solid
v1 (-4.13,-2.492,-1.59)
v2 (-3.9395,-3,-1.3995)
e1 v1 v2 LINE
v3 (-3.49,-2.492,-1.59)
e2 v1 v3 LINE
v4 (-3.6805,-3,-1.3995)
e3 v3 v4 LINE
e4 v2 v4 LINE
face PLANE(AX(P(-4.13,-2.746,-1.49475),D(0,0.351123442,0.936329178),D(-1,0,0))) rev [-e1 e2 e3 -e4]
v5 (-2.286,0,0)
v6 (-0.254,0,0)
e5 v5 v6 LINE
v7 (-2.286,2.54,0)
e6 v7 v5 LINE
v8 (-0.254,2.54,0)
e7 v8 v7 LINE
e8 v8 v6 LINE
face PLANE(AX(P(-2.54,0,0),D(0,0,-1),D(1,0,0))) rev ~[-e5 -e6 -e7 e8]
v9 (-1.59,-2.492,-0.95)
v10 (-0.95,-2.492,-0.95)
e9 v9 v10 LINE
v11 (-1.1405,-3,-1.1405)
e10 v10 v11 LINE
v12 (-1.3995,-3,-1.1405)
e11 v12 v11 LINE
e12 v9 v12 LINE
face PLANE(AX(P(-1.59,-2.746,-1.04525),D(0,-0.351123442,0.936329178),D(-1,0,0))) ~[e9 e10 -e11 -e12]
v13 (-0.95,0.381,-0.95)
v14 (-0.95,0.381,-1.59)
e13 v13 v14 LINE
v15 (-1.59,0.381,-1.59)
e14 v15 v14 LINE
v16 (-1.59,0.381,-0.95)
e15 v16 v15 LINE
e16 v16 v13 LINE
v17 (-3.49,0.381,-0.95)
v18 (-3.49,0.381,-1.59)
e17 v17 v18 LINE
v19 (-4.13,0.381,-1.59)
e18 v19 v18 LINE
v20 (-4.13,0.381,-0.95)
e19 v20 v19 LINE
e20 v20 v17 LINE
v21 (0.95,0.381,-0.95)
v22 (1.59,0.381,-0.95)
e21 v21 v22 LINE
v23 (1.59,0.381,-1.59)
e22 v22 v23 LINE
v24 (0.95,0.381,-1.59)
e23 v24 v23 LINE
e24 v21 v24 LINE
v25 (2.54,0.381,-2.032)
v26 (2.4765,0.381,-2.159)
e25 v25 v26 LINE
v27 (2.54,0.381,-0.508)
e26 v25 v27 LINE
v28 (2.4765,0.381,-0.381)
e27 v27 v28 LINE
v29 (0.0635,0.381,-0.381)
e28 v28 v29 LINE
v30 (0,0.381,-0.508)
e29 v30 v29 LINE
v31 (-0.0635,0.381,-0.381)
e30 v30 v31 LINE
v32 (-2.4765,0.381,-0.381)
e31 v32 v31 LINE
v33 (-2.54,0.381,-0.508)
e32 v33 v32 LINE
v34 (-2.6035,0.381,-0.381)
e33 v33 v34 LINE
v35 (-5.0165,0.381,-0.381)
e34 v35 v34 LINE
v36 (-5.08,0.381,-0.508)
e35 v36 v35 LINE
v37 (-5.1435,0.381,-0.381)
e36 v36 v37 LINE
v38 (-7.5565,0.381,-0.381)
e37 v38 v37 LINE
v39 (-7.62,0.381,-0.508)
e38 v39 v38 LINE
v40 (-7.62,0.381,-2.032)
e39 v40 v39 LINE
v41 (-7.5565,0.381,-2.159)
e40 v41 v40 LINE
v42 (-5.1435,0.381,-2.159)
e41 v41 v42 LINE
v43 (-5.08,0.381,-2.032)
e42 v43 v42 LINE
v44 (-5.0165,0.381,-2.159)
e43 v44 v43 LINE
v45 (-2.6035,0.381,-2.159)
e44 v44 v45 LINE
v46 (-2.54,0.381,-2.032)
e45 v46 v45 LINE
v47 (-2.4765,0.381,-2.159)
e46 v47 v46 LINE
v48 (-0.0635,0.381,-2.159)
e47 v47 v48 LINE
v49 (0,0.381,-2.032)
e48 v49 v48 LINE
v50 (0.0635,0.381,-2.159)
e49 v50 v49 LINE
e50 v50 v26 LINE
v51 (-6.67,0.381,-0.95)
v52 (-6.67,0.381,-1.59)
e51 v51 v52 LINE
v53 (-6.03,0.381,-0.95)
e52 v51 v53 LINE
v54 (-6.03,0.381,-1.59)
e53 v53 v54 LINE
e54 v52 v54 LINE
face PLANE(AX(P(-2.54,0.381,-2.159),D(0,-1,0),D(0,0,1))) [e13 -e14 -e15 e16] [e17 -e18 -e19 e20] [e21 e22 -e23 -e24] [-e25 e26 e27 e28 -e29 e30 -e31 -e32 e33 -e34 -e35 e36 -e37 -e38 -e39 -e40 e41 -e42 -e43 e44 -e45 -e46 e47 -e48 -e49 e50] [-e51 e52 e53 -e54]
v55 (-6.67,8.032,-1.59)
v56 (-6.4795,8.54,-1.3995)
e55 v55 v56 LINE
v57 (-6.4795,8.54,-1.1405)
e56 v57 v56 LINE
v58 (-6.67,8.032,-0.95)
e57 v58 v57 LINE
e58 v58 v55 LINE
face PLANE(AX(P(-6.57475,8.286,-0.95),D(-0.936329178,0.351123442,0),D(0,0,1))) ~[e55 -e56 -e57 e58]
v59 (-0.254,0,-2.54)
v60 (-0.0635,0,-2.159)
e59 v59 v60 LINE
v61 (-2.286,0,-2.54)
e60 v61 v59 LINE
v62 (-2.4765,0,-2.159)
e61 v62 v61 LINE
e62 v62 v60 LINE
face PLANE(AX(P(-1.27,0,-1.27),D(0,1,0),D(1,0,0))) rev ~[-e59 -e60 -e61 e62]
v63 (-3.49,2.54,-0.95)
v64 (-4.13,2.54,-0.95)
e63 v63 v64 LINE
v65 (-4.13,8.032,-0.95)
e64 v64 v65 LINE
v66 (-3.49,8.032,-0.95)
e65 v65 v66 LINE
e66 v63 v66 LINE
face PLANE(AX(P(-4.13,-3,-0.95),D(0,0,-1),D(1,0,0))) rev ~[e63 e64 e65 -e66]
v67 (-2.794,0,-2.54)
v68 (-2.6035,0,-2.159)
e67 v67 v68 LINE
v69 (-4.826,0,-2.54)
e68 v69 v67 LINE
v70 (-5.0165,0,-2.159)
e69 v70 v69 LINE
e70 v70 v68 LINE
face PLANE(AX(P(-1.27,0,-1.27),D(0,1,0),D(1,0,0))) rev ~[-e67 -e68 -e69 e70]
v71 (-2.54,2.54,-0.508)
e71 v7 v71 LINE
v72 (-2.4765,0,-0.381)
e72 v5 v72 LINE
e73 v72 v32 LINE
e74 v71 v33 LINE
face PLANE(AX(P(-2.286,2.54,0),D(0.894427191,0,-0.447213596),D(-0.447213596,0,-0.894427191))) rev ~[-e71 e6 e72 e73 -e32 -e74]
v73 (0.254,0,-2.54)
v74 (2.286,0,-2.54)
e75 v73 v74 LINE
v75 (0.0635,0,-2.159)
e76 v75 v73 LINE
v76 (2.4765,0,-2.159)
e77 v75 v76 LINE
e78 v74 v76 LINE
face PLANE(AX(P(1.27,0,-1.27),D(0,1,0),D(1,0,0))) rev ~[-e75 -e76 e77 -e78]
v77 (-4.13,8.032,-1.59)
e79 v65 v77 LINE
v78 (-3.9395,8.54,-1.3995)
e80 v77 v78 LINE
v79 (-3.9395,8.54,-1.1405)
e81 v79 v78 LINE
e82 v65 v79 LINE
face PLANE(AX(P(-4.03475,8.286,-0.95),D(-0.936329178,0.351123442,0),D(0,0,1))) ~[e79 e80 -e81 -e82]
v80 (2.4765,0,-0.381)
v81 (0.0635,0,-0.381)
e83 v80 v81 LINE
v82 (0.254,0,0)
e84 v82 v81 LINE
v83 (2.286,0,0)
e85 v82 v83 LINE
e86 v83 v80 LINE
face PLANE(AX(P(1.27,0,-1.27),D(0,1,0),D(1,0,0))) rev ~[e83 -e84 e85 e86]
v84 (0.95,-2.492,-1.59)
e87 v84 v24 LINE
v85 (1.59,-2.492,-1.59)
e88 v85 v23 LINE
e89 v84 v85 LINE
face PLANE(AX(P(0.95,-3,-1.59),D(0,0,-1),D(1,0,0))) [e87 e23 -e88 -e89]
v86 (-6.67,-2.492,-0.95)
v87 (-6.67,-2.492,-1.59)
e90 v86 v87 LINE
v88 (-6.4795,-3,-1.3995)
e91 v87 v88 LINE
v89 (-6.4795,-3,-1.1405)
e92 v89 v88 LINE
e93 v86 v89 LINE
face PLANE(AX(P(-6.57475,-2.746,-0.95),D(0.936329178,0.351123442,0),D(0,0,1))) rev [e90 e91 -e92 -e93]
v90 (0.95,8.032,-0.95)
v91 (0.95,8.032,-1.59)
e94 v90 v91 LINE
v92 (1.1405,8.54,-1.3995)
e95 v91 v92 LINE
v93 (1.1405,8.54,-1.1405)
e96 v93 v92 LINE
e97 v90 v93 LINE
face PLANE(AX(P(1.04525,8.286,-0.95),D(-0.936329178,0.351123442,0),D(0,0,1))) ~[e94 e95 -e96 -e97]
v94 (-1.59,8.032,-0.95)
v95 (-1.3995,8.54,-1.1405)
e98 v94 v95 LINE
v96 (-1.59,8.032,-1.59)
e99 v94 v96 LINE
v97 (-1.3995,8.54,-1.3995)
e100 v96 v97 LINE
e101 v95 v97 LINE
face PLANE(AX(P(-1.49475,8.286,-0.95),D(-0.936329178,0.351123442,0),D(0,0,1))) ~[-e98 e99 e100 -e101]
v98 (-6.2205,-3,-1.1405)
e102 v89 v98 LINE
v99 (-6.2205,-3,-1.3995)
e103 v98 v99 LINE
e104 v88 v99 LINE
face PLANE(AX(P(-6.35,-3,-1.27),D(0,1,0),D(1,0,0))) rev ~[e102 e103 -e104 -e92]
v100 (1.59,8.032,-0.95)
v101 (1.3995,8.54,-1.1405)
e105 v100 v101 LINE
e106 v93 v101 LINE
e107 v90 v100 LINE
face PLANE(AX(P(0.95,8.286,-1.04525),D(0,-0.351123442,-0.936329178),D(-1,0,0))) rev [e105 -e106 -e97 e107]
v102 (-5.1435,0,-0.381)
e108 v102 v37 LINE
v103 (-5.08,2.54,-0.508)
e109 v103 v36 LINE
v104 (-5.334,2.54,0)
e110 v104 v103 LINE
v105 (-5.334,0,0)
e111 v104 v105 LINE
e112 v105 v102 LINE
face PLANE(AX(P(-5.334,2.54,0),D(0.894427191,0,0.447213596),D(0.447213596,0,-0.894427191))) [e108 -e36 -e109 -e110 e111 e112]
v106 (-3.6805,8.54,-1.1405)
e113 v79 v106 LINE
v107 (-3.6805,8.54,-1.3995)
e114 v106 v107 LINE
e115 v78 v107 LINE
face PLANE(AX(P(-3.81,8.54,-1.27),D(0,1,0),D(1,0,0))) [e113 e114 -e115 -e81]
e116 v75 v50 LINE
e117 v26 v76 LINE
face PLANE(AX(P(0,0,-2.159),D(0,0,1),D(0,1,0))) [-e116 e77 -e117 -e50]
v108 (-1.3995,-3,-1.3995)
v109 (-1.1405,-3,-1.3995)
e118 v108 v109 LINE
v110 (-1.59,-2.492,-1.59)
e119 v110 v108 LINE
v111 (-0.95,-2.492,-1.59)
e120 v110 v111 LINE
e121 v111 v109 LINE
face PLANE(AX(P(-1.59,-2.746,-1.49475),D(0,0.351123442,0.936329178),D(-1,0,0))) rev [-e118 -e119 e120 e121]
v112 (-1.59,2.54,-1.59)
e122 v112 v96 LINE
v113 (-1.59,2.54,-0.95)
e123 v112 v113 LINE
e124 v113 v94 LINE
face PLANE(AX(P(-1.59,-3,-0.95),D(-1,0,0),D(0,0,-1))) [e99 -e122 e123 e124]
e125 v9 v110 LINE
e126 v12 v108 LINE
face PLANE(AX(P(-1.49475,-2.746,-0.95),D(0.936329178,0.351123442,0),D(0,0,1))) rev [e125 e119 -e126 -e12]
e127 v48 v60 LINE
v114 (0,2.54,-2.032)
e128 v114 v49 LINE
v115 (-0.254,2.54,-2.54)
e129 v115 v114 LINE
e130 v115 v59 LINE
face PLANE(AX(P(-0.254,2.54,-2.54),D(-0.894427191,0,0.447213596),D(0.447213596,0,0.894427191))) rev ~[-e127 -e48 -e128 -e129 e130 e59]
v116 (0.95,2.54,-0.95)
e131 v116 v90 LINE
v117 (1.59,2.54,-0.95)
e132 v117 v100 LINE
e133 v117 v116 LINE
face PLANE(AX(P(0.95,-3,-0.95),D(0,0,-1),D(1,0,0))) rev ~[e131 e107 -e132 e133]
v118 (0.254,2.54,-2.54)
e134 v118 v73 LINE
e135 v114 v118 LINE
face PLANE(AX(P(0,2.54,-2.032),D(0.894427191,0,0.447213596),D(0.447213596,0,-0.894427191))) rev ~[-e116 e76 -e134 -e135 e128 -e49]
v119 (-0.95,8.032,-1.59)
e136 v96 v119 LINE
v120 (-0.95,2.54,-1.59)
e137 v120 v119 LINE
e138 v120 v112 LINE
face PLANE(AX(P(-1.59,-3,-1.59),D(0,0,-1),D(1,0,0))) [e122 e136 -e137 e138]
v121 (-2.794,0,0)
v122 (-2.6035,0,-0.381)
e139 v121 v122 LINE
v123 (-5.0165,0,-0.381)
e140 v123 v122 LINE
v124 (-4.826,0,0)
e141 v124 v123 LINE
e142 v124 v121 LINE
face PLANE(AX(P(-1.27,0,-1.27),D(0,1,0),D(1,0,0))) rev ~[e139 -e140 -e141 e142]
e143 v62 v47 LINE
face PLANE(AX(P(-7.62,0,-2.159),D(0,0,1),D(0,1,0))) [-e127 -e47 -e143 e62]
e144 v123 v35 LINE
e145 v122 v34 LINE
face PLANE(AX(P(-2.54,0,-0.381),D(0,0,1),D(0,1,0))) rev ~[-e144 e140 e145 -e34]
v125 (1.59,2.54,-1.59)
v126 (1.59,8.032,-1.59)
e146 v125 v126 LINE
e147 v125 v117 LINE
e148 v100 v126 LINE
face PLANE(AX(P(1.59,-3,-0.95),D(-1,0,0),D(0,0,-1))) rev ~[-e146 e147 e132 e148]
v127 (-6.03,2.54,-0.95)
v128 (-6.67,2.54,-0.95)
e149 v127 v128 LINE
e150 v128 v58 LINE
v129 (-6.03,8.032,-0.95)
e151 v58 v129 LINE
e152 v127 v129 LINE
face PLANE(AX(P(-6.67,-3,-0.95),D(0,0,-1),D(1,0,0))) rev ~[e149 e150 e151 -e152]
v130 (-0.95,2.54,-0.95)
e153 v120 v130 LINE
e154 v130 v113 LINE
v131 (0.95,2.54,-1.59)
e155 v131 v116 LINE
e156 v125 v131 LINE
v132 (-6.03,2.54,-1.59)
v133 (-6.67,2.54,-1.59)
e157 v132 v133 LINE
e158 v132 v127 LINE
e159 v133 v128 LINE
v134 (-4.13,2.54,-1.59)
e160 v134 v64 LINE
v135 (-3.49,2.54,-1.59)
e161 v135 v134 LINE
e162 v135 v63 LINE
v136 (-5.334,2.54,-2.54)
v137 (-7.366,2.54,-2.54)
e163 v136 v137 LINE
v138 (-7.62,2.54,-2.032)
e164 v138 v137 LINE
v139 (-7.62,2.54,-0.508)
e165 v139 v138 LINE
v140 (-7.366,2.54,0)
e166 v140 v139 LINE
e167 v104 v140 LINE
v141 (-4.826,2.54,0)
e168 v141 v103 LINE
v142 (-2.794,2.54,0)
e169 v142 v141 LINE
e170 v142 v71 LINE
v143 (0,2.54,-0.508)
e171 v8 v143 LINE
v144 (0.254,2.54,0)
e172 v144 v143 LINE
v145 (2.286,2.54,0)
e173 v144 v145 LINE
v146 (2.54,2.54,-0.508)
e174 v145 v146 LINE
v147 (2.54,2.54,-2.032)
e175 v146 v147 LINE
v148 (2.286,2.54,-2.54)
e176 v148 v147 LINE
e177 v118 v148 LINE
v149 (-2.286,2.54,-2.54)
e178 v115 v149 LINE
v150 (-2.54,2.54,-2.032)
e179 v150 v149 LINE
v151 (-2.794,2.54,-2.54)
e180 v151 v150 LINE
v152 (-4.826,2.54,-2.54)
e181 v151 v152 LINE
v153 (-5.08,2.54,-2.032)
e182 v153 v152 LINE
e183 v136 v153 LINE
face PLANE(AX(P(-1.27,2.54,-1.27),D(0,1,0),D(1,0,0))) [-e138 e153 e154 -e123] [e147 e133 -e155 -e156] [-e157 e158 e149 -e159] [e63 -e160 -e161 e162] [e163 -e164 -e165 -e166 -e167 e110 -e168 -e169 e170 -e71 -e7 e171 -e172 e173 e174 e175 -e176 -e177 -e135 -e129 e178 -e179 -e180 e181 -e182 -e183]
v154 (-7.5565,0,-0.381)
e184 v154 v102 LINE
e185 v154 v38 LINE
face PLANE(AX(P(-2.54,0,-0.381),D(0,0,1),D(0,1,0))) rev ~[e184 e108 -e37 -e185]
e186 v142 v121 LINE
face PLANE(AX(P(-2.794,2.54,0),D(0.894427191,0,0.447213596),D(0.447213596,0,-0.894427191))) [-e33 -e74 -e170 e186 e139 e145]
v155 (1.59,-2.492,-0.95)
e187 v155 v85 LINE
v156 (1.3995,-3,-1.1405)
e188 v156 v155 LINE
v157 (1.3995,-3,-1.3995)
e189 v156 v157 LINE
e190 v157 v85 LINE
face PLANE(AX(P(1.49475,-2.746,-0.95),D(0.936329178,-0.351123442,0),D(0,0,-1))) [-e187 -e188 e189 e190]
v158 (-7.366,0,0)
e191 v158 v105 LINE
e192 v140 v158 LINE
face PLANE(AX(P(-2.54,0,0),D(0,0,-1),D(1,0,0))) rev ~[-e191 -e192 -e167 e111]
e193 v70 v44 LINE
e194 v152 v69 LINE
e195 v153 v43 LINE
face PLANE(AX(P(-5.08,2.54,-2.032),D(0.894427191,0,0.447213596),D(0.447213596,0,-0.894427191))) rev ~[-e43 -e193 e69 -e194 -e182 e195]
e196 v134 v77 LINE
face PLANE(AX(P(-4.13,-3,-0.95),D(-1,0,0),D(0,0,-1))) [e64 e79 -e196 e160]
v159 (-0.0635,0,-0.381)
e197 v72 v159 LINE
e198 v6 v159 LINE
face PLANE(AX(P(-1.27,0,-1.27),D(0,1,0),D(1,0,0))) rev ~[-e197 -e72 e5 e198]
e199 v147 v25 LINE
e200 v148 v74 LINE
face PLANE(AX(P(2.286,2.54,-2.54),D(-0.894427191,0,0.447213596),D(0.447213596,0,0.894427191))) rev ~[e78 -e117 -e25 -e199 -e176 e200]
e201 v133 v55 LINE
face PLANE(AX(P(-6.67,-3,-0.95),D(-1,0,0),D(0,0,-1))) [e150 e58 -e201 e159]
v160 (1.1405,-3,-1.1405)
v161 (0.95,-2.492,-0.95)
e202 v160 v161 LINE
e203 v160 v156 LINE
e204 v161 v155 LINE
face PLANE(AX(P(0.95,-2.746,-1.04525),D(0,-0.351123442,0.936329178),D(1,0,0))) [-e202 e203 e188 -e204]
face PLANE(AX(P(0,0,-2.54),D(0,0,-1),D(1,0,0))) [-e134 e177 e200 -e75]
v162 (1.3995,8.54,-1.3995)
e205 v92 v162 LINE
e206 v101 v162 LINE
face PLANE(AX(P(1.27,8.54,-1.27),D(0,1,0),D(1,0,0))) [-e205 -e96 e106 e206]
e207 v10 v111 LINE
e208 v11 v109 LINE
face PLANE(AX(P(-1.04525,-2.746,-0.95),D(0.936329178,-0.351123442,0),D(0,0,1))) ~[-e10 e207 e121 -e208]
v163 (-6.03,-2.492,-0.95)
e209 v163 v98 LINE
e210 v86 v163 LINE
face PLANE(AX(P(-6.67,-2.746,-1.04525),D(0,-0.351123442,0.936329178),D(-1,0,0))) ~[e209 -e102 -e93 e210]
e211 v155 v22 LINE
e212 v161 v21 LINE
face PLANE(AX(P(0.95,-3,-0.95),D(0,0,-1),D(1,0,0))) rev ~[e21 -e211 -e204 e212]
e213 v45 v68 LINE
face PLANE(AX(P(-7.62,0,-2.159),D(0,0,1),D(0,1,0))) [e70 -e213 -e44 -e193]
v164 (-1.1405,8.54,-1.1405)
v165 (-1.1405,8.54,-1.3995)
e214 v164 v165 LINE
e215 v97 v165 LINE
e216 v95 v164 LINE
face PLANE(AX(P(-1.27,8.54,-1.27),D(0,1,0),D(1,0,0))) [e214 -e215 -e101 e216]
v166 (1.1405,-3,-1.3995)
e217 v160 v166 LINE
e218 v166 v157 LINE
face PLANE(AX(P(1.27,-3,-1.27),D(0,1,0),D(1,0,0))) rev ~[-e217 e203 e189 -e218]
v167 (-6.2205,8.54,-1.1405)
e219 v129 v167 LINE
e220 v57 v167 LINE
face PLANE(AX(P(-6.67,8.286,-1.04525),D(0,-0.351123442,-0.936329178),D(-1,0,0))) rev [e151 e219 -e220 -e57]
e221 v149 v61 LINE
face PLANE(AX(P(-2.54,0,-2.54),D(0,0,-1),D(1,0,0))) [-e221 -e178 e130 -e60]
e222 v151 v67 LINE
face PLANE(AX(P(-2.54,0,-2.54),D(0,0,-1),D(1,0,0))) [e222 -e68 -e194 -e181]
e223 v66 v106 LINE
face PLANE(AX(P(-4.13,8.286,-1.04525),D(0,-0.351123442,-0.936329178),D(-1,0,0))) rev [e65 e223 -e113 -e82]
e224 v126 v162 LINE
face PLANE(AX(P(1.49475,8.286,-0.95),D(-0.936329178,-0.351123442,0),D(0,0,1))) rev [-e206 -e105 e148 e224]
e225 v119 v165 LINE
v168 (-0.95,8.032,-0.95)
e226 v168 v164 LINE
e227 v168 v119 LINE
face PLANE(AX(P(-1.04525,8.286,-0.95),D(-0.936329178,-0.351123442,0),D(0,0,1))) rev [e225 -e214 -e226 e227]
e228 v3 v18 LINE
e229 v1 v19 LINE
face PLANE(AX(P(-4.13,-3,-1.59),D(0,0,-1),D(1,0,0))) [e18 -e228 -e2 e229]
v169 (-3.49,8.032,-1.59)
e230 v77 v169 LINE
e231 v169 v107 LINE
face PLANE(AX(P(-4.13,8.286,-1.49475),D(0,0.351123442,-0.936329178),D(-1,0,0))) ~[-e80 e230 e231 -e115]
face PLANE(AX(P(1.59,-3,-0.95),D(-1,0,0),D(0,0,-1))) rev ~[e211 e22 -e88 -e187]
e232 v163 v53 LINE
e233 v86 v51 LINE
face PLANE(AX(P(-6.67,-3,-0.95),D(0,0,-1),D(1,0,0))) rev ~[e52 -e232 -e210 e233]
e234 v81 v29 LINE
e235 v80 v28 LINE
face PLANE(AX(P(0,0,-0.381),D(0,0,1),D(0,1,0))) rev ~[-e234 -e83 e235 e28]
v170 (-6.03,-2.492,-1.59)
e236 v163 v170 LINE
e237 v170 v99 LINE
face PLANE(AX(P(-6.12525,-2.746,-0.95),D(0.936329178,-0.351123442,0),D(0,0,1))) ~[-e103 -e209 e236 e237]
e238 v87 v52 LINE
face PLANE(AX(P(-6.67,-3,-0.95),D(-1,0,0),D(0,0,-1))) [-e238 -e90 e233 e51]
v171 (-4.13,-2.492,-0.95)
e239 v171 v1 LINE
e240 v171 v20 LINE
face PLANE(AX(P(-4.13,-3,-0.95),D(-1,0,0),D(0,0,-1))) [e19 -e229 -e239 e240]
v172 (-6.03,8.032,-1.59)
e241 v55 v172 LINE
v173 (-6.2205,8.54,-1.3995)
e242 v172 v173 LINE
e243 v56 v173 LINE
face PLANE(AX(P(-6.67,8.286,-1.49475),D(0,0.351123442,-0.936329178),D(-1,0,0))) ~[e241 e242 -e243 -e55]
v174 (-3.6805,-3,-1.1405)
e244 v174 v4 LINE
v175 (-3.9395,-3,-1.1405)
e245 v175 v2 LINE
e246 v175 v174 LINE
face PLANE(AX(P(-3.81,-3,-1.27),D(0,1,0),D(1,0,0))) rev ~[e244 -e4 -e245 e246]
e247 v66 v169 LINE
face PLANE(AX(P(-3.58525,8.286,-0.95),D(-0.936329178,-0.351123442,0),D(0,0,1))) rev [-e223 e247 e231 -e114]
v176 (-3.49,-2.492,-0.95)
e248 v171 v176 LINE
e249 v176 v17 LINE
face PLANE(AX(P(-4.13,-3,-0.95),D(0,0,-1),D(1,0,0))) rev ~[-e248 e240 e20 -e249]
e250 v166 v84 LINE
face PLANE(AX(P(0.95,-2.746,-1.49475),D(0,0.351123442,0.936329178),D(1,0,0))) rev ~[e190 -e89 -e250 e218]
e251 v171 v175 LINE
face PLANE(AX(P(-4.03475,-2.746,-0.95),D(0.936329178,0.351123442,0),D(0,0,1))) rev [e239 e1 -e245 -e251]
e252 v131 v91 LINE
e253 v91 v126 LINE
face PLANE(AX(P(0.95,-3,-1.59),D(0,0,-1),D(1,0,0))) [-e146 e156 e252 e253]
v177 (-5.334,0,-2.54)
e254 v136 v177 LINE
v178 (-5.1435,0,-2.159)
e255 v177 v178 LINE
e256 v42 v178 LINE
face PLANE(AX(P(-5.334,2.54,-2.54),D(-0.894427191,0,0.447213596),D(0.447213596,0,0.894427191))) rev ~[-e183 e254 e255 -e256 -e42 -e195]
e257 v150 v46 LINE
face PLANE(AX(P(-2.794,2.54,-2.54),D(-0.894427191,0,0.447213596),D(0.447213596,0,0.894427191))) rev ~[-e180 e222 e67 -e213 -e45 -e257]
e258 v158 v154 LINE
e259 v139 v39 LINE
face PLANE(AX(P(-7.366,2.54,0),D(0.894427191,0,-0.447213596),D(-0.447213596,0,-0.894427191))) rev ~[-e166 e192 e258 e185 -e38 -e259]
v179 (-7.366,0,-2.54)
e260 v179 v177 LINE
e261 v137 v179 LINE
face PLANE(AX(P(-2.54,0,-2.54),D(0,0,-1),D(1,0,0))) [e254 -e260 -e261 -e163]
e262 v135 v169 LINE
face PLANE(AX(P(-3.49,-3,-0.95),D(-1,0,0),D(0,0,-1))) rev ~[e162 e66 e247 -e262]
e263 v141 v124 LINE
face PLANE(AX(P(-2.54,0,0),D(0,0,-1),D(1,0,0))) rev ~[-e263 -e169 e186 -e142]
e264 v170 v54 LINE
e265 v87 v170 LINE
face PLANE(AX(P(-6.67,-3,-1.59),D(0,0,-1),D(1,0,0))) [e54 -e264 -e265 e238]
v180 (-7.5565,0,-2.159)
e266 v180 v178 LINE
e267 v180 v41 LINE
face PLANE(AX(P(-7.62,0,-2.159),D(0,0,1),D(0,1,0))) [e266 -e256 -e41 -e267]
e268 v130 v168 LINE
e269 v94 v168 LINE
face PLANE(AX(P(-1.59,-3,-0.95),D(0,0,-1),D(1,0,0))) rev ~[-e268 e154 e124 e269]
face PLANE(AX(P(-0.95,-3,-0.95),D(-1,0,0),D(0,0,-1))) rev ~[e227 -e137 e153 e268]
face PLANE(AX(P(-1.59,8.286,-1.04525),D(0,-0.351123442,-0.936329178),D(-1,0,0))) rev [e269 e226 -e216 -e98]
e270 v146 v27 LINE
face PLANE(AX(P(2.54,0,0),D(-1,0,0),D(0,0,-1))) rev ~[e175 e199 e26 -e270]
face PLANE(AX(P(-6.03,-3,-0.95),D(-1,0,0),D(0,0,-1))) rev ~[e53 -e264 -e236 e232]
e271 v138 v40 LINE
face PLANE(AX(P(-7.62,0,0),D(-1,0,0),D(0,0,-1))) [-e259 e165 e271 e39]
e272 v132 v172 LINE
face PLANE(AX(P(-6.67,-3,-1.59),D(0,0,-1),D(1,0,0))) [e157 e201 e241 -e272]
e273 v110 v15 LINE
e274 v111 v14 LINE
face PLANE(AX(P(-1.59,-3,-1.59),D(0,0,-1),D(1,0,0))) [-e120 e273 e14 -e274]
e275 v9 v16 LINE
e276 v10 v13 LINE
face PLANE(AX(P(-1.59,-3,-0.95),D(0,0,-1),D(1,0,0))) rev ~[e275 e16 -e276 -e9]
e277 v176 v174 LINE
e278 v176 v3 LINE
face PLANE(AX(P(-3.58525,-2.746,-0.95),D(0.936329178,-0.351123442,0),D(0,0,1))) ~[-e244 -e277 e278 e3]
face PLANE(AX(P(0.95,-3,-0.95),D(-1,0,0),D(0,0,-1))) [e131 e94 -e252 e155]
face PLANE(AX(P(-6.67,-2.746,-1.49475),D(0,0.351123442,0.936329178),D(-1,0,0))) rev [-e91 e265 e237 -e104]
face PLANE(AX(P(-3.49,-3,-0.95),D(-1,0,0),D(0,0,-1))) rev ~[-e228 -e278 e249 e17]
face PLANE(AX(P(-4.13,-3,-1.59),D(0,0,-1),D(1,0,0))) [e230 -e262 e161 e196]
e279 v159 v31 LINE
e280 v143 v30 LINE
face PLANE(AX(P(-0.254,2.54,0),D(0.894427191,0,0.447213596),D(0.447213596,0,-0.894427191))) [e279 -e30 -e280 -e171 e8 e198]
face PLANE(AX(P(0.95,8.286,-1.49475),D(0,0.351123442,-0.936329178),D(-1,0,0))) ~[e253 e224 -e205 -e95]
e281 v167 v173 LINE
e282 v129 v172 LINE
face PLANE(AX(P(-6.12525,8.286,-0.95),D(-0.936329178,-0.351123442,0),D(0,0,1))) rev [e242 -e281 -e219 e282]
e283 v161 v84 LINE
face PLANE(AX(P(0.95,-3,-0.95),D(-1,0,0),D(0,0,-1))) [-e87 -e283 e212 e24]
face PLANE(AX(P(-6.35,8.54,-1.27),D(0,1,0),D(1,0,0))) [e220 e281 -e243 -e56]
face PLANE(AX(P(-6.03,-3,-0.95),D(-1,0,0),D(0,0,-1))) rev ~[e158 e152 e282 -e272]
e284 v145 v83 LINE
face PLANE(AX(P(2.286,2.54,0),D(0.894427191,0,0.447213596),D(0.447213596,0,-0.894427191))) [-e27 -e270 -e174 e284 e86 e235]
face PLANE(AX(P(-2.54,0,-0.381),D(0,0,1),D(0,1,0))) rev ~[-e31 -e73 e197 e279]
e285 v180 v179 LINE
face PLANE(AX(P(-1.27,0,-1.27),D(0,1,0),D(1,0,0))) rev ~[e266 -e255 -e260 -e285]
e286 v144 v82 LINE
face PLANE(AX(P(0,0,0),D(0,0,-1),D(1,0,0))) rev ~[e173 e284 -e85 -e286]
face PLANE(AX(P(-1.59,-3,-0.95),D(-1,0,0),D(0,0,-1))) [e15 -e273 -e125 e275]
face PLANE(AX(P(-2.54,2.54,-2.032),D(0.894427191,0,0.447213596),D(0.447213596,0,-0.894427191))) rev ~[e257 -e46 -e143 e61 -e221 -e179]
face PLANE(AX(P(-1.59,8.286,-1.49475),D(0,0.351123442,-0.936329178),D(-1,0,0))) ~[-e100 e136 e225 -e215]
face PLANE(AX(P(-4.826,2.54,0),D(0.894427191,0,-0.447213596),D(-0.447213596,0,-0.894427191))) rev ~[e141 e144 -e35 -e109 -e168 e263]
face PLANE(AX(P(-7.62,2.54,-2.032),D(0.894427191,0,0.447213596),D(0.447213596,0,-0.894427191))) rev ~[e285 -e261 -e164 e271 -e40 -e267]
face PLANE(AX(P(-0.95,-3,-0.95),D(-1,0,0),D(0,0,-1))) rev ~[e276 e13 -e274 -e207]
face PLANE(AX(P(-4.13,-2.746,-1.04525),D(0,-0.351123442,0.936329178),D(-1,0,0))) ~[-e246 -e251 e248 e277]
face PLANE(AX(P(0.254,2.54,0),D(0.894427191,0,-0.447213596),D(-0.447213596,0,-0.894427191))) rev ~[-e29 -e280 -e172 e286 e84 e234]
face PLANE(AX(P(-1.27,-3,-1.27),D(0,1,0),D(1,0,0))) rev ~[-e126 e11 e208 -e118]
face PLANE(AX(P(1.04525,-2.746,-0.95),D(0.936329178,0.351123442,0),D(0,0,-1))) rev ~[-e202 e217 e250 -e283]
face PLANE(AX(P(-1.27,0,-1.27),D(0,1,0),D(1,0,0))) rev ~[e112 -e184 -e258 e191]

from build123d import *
from OCP.BRepFilletAPI import BRepFilletAPI_MakeChamfer

# Parameters (mm, degrees)
SKETCH1_W                     = 2.54
SKETCH1_H                     = 2.54
MAIN_BODY_DEPTH               = 2.54
SKETCH3_W                     = 1.778
SKETCH3_H                     = 0.381
CUT_EXTRUDE1_DEPTH            = 5.399409051
CUT_EXTRUDE2_DEPTH            = 5.399409051
BODY_PATTERN_COUNT            = 4
BODY_PATTERN_PITCH            = 2.54
PIN_START                     = -5.54
SKETCH2_W                     = 0.64
SKETCH2_H                     = 0.64
PIN_DEPTH                     = 11.54
CHAMFER1_SIZE                 = 0.508
CHAMFER1_SIZE2                = 0.1905
CHAMFER2_SIZE                 = 0.1905
CHAMFER2_SIZE2                = 0.508
PIN_PATTERN_COUNT             = 4
PIN_PATTERN_PITCH             = 2.54
CHAMFER1_OF_PIN_PATTERN_SIZE  = 0.508
CHAMFER1_OF_PIN_PATTERN_SIZE2 = 0.1905
CHAMFER2_OF_PIN_PATTERN_SIZE2 = 0.1905
CHAMFER2_OF_PIN_PATTERN_SIZE  = 0.508


with BuildPart() as part:
    # Sketch1 → Main Body (new body)
    with BuildSketch(Plane(origin=(0, 0, 0), x_dir=(1, 0, 0), z_dir=(0, 1, 0))):
        with Locations((1.27, 1.27)):
            Rectangle(SKETCH1_W, SKETCH1_H)
    main_body = extrude(amount=MAIN_BODY_DEPTH)

    # Sketch3 → Cut-Extrude1 (cut, through all)
    with BuildSketch(Plane.ZY):
        with Locations((-1.27, 0.1905)):
            Rectangle(SKETCH3_W, SKETCH3_H)
    cut_extrude1 = extrude(amount=-CUT_EXTRUDE1_DEPTH, mode=Mode.SUBTRACT)

    # Sketch4 → Cut-Extrude2 (cut, through all)
    with BuildSketch(Plane(origin=(0, 2.54, 0), x_dir=(1, 0, 0), z_dir=(0, 1, 0))):
        Polygon((0.254, 2.54), (0, 2.54), (0, 2.032), align=None)
        Polygon((2.54, 2.54), (2.286, 2.54), (2.54, 2.032), align=None)
        Polygon((0.254, 0), (0, 0.508), (0, 0), align=None)
        Polygon((2.54, 0), (2.286, 0), (2.54, 0.508), align=None)
    cut_extrude2 = extrude(amount=-CUT_EXTRUDE2_DEPTH, mode=Mode.SUBTRACT)

    # Body Pattern: Main Body, Cut-Extrude1, Cut-Extrude2 ×4
    with Locations(*[(-i * BODY_PATTERN_PITCH, 0, 0) for i in range(1, BODY_PATTERN_COUNT)]):
        add(main_body)
        add(cut_extrude1, mode=Mode.SUBTRACT)
        add(cut_extrude2, mode=Mode.SUBTRACT)

    # Sketch2 → Pin (add)
    with BuildSketch(Plane(origin=(0, 2.54, 0), x_dir=(1, 0, 0), z_dir=(0, 1, 0)).offset(PIN_START)):
        with Locations((1.27, 1.27)):
            Rectangle(SKETCH2_W, SKETCH2_H)
    pin = extrude(amount=PIN_DEPTH)

    # Chamfer1: one chamfer whose edges measure the first distance from different faces: ONE call of the kernel's chamfer builder (chamfer() names one face for all edges)
    chamfer1_edges_1 = [part.edges().sort_by_distance(p)[0] for p in [
        (0.95, 8.54, -1.27),
    ]]
    chamfer1_side_1 = [part.faces().sort_by_distance(p)[0] for p in [
        (0.95, 5.54, -1.27),
    ]]
    chamfer1_edges_2 = [part.edges().sort_by_distance(p)[0] for p in [
        (1.27, 8.54, -0.95),
    ]]
    chamfer1_side_2 = [part.faces().sort_by_distance(p)[0] for p in [
        (1.27, 5.54, -0.95),
    ]]
    chamfer1_edges_3 = [part.edges().sort_by_distance(p)[0] for p in [
        (1.59, 8.54, -1.27),
    ]]
    chamfer1_side_3 = [part.faces().sort_by_distance(p)[0] for p in [
        (1.59, 5.54, -1.27),
    ]]
    chamfer1_edges_4 = [part.edges().sort_by_distance(p)[0] for p in [
        (1.27, 8.54, -1.59),
    ]]
    chamfer1_side_4 = [part.faces().sort_by_distance(p)[0] for p in [
        (1.27, 5.54, -1.59),
    ]]
    chamfer1 = BRepFilletAPI_MakeChamfer(part.part.solid().wrapped)
    for e in chamfer1_edges_1:
        chamfer1.Add(CHAMFER1_SIZE, CHAMFER1_SIZE2, e.wrapped, chamfer1_side_1[0].wrapped)  # the first distance lies on this face
    for e in chamfer1_edges_2:
        chamfer1.Add(CHAMFER1_SIZE, CHAMFER1_SIZE2, e.wrapped, chamfer1_side_2[0].wrapped)  # the first distance lies on this face
    for e in chamfer1_edges_3:
        chamfer1.Add(CHAMFER1_SIZE, CHAMFER1_SIZE2, e.wrapped, chamfer1_side_3[0].wrapped)  # the first distance lies on this face
    for e in chamfer1_edges_4:
        chamfer1.Add(CHAMFER1_SIZE, CHAMFER1_SIZE2, e.wrapped, chamfer1_side_4[0].wrapped)  # the first distance lies on this face
    add(Compound.cast(chamfer1.Shape()), mode=Mode.REPLACE)

    # Chamfer2
    chamfer2_edges = [part.edges().sort_by_distance(p)[0] for p in [
        (1.27, -3, -0.95),
        (1.59, -3, -1.27),
        (1.27, -3, -1.59),
        (0.95, -3, -1.27),
    ]]
    chamfer2_side = [part.faces().sort_by_distance(p)[0] for p in [
        (1.27, -3, -1.27),
    ]]
    chamfer(chamfer2_edges, length=CHAMFER2_SIZE, length2=CHAMFER2_SIZE2, reference=chamfer2_side[0])

    # Pin Pattern: Pin ×4
    with Locations(*[(-i * PIN_PATTERN_PITCH, 0, 0) for i in range(1, PIN_PATTERN_COUNT)]):
        add(pin)

    # Chamfer1 of Pin Pattern: one chamfer whose edges measure the first distance from different faces: ONE call of the kernel's chamfer builder (chamfer() names one face for all edges)
    chamfer1_of_pin_pattern_edges_1 = [part.edges().sort_by_distance(p)[0] for p in [
        (-1.59, 8.54, -1.27),
    ]]
    chamfer1_of_pin_pattern_side_1 = [part.faces().sort_by_distance(p)[0] for p in [
        (-1.59, 5.54, -1.27),
    ]]
    chamfer1_of_pin_pattern_edges_2 = [part.edges().sort_by_distance(p)[0] for p in [
        (-1.27, 8.54, -0.95),
    ]]
    chamfer1_of_pin_pattern_side_2 = [part.faces().sort_by_distance(p)[0] for p in [
        (-1.27, 5.54, -0.95),
    ]]
    chamfer1_of_pin_pattern_edges_3 = [part.edges().sort_by_distance(p)[0] for p in [
        (-0.95, 8.54, -1.27),
    ]]
    chamfer1_of_pin_pattern_side_3 = [part.faces().sort_by_distance(p)[0] for p in [
        (-0.95, 5.54, -1.27),
    ]]
    chamfer1_of_pin_pattern_edges_4 = [part.edges().sort_by_distance(p)[0] for p in [
        (-1.27, 8.54, -1.59),
    ]]
    chamfer1_of_pin_pattern_side_4 = [part.faces().sort_by_distance(p)[0] for p in [
        (-1.27, 5.54, -1.59),
    ]]
    chamfer1_of_pin_pattern_edges_5 = [part.edges().sort_by_distance(p)[0] for p in [
        (-4.13, 8.54, -1.27),
    ]]
    chamfer1_of_pin_pattern_side_5 = [part.faces().sort_by_distance(p)[0] for p in [
        (-4.13, 5.54, -1.27),
    ]]
    chamfer1_of_pin_pattern_edges_6 = [part.edges().sort_by_distance(p)[0] for p in [
        (-3.81, 8.54, -0.95),
    ]]
    chamfer1_of_pin_pattern_side_6 = [part.faces().sort_by_distance(p)[0] for p in [
        (-3.81, 5.54, -0.95),
    ]]
    chamfer1_of_pin_pattern_edges_7 = [part.edges().sort_by_distance(p)[0] for p in [
        (-3.49, 8.54, -1.27),
    ]]
    chamfer1_of_pin_pattern_side_7 = [part.faces().sort_by_distance(p)[0] for p in [
        (-3.49, 5.54, -1.27),
    ]]
    chamfer1_of_pin_pattern_edges_8 = [part.edges().sort_by_distance(p)[0] for p in [
        (-3.81, 8.54, -1.59),
    ]]
    chamfer1_of_pin_pattern_side_8 = [part.faces().sort_by_distance(p)[0] for p in [
        (-3.81, 5.54, -1.59),
    ]]
    chamfer1_of_pin_pattern_edges_9 = [part.edges().sort_by_distance(p)[0] for p in [
        (-6.67, 8.54, -1.27),
    ]]
    chamfer1_of_pin_pattern_side_9 = [part.faces().sort_by_distance(p)[0] for p in [
        (-6.67, 5.54, -1.27),
    ]]
    chamfer1_of_pin_pattern_edges_10 = [part.edges().sort_by_distance(p)[0] for p in [
        (-6.35, 8.54, -0.95),
    ]]
    chamfer1_of_pin_pattern_side_10 = [part.faces().sort_by_distance(p)[0] for p in [
        (-6.35, 5.54, -0.95),
    ]]
    chamfer1_of_pin_pattern_edges_11 = [part.edges().sort_by_distance(p)[0] for p in [
        (-6.03, 8.54, -1.27),
    ]]
    chamfer1_of_pin_pattern_side_11 = [part.faces().sort_by_distance(p)[0] for p in [
        (-6.03, 5.54, -1.27),
    ]]
    chamfer1_of_pin_pattern_edges_12 = [part.edges().sort_by_distance(p)[0] for p in [
        (-6.35, 8.54, -1.59),
    ]]
    chamfer1_of_pin_pattern_side_12 = [part.faces().sort_by_distance(p)[0] for p in [
        (-6.35, 5.54, -1.59),
    ]]
    chamfer1_of_pin_pattern = BRepFilletAPI_MakeChamfer(part.part.solid().wrapped)
    for e in chamfer1_of_pin_pattern_edges_1:
        chamfer1_of_pin_pattern.Add(CHAMFER1_OF_PIN_PATTERN_SIZE, CHAMFER1_OF_PIN_PATTERN_SIZE2, e.wrapped, chamfer1_of_pin_pattern_side_1[0].wrapped)  # the first distance lies on this face
    for e in chamfer1_of_pin_pattern_edges_2:
        chamfer1_of_pin_pattern.Add(CHAMFER1_OF_PIN_PATTERN_SIZE, CHAMFER1_OF_PIN_PATTERN_SIZE2, e.wrapped, chamfer1_of_pin_pattern_side_2[0].wrapped)  # the first distance lies on this face
    for e in chamfer1_of_pin_pattern_edges_3:
        chamfer1_of_pin_pattern.Add(CHAMFER1_OF_PIN_PATTERN_SIZE, CHAMFER1_OF_PIN_PATTERN_SIZE2, e.wrapped, chamfer1_of_pin_pattern_side_3[0].wrapped)  # the first distance lies on this face
    for e in chamfer1_of_pin_pattern_edges_4:
        chamfer1_of_pin_pattern.Add(CHAMFER1_OF_PIN_PATTERN_SIZE, CHAMFER1_OF_PIN_PATTERN_SIZE2, e.wrapped, chamfer1_of_pin_pattern_side_4[0].wrapped)  # the first distance lies on this face
    for e in chamfer1_of_pin_pattern_edges_5:
        chamfer1_of_pin_pattern.Add(CHAMFER1_OF_PIN_PATTERN_SIZE, CHAMFER1_OF_PIN_PATTERN_SIZE2, e.wrapped, chamfer1_of_pin_pattern_side_5[0].wrapped)  # the first distance lies on this face
    for e in chamfer1_of_pin_pattern_edges_6:
        chamfer1_of_pin_pattern.Add(CHAMFER1_OF_PIN_PATTERN_SIZE, CHAMFER1_OF_PIN_PATTERN_SIZE2, e.wrapped, chamfer1_of_pin_pattern_side_6[0].wrapped)  # the first distance lies on this face
    for e in chamfer1_of_pin_pattern_edges_7:
        chamfer1_of_pin_pattern.Add(CHAMFER1_OF_PIN_PATTERN_SIZE, CHAMFER1_OF_PIN_PATTERN_SIZE2, e.wrapped, chamfer1_of_pin_pattern_side_7[0].wrapped)  # the first distance lies on this face
    for e in chamfer1_of_pin_pattern_edges_8:
        chamfer1_of_pin_pattern.Add(CHAMFER1_OF_PIN_PATTERN_SIZE, CHAMFER1_OF_PIN_PATTERN_SIZE2, e.wrapped, chamfer1_of_pin_pattern_side_8[0].wrapped)  # the first distance lies on this face
    for e in chamfer1_of_pin_pattern_edges_9:
        chamfer1_of_pin_pattern.Add(CHAMFER1_OF_PIN_PATTERN_SIZE, CHAMFER1_OF_PIN_PATTERN_SIZE2, e.wrapped, chamfer1_of_pin_pattern_side_9[0].wrapped)  # the first distance lies on this face
    for e in chamfer1_of_pin_pattern_edges_10:
        chamfer1_of_pin_pattern.Add(CHAMFER1_OF_PIN_PATTERN_SIZE, CHAMFER1_OF_PIN_PATTERN_SIZE2, e.wrapped, chamfer1_of_pin_pattern_side_10[0].wrapped)  # the first distance lies on this face
    for e in chamfer1_of_pin_pattern_edges_11:
        chamfer1_of_pin_pattern.Add(CHAMFER1_OF_PIN_PATTERN_SIZE, CHAMFER1_OF_PIN_PATTERN_SIZE2, e.wrapped, chamfer1_of_pin_pattern_side_11[0].wrapped)  # the first distance lies on this face
    for e in chamfer1_of_pin_pattern_edges_12:
        chamfer1_of_pin_pattern.Add(CHAMFER1_OF_PIN_PATTERN_SIZE, CHAMFER1_OF_PIN_PATTERN_SIZE2, e.wrapped, chamfer1_of_pin_pattern_side_12[0].wrapped)  # the first distance lies on this face
    add(Compound.cast(chamfer1_of_pin_pattern.Shape()), mode=Mode.REPLACE)

    # Chamfer2 of Pin Pattern
    chamfer2_of_pin_pattern_edges = [part.edges().sort_by_distance(p)[0] for p in [
        (-1.27, -3, -0.95),
        (-0.95, -3, -1.27),
        (-1.27, -3, -1.59),
        (-1.59, -3, -1.27),
        (-3.81, -3, -0.95),
        (-3.49, -3, -1.27),
        (-3.81, -3, -1.59),
        (-4.13, -3, -1.27),
        (-6.35, -3, -0.95),
        (-6.03, -3, -1.27),
        (-6.35, -3, -1.59),
        (-6.67, -3, -1.27),
    ]]
    chamfer(chamfer2_of_pin_pattern_edges, length=CHAMFER2_OF_PIN_PATTERN_SIZE, length2=CHAMFER2_OF_PIN_PATTERN_SIZE2)


solid = part.part
